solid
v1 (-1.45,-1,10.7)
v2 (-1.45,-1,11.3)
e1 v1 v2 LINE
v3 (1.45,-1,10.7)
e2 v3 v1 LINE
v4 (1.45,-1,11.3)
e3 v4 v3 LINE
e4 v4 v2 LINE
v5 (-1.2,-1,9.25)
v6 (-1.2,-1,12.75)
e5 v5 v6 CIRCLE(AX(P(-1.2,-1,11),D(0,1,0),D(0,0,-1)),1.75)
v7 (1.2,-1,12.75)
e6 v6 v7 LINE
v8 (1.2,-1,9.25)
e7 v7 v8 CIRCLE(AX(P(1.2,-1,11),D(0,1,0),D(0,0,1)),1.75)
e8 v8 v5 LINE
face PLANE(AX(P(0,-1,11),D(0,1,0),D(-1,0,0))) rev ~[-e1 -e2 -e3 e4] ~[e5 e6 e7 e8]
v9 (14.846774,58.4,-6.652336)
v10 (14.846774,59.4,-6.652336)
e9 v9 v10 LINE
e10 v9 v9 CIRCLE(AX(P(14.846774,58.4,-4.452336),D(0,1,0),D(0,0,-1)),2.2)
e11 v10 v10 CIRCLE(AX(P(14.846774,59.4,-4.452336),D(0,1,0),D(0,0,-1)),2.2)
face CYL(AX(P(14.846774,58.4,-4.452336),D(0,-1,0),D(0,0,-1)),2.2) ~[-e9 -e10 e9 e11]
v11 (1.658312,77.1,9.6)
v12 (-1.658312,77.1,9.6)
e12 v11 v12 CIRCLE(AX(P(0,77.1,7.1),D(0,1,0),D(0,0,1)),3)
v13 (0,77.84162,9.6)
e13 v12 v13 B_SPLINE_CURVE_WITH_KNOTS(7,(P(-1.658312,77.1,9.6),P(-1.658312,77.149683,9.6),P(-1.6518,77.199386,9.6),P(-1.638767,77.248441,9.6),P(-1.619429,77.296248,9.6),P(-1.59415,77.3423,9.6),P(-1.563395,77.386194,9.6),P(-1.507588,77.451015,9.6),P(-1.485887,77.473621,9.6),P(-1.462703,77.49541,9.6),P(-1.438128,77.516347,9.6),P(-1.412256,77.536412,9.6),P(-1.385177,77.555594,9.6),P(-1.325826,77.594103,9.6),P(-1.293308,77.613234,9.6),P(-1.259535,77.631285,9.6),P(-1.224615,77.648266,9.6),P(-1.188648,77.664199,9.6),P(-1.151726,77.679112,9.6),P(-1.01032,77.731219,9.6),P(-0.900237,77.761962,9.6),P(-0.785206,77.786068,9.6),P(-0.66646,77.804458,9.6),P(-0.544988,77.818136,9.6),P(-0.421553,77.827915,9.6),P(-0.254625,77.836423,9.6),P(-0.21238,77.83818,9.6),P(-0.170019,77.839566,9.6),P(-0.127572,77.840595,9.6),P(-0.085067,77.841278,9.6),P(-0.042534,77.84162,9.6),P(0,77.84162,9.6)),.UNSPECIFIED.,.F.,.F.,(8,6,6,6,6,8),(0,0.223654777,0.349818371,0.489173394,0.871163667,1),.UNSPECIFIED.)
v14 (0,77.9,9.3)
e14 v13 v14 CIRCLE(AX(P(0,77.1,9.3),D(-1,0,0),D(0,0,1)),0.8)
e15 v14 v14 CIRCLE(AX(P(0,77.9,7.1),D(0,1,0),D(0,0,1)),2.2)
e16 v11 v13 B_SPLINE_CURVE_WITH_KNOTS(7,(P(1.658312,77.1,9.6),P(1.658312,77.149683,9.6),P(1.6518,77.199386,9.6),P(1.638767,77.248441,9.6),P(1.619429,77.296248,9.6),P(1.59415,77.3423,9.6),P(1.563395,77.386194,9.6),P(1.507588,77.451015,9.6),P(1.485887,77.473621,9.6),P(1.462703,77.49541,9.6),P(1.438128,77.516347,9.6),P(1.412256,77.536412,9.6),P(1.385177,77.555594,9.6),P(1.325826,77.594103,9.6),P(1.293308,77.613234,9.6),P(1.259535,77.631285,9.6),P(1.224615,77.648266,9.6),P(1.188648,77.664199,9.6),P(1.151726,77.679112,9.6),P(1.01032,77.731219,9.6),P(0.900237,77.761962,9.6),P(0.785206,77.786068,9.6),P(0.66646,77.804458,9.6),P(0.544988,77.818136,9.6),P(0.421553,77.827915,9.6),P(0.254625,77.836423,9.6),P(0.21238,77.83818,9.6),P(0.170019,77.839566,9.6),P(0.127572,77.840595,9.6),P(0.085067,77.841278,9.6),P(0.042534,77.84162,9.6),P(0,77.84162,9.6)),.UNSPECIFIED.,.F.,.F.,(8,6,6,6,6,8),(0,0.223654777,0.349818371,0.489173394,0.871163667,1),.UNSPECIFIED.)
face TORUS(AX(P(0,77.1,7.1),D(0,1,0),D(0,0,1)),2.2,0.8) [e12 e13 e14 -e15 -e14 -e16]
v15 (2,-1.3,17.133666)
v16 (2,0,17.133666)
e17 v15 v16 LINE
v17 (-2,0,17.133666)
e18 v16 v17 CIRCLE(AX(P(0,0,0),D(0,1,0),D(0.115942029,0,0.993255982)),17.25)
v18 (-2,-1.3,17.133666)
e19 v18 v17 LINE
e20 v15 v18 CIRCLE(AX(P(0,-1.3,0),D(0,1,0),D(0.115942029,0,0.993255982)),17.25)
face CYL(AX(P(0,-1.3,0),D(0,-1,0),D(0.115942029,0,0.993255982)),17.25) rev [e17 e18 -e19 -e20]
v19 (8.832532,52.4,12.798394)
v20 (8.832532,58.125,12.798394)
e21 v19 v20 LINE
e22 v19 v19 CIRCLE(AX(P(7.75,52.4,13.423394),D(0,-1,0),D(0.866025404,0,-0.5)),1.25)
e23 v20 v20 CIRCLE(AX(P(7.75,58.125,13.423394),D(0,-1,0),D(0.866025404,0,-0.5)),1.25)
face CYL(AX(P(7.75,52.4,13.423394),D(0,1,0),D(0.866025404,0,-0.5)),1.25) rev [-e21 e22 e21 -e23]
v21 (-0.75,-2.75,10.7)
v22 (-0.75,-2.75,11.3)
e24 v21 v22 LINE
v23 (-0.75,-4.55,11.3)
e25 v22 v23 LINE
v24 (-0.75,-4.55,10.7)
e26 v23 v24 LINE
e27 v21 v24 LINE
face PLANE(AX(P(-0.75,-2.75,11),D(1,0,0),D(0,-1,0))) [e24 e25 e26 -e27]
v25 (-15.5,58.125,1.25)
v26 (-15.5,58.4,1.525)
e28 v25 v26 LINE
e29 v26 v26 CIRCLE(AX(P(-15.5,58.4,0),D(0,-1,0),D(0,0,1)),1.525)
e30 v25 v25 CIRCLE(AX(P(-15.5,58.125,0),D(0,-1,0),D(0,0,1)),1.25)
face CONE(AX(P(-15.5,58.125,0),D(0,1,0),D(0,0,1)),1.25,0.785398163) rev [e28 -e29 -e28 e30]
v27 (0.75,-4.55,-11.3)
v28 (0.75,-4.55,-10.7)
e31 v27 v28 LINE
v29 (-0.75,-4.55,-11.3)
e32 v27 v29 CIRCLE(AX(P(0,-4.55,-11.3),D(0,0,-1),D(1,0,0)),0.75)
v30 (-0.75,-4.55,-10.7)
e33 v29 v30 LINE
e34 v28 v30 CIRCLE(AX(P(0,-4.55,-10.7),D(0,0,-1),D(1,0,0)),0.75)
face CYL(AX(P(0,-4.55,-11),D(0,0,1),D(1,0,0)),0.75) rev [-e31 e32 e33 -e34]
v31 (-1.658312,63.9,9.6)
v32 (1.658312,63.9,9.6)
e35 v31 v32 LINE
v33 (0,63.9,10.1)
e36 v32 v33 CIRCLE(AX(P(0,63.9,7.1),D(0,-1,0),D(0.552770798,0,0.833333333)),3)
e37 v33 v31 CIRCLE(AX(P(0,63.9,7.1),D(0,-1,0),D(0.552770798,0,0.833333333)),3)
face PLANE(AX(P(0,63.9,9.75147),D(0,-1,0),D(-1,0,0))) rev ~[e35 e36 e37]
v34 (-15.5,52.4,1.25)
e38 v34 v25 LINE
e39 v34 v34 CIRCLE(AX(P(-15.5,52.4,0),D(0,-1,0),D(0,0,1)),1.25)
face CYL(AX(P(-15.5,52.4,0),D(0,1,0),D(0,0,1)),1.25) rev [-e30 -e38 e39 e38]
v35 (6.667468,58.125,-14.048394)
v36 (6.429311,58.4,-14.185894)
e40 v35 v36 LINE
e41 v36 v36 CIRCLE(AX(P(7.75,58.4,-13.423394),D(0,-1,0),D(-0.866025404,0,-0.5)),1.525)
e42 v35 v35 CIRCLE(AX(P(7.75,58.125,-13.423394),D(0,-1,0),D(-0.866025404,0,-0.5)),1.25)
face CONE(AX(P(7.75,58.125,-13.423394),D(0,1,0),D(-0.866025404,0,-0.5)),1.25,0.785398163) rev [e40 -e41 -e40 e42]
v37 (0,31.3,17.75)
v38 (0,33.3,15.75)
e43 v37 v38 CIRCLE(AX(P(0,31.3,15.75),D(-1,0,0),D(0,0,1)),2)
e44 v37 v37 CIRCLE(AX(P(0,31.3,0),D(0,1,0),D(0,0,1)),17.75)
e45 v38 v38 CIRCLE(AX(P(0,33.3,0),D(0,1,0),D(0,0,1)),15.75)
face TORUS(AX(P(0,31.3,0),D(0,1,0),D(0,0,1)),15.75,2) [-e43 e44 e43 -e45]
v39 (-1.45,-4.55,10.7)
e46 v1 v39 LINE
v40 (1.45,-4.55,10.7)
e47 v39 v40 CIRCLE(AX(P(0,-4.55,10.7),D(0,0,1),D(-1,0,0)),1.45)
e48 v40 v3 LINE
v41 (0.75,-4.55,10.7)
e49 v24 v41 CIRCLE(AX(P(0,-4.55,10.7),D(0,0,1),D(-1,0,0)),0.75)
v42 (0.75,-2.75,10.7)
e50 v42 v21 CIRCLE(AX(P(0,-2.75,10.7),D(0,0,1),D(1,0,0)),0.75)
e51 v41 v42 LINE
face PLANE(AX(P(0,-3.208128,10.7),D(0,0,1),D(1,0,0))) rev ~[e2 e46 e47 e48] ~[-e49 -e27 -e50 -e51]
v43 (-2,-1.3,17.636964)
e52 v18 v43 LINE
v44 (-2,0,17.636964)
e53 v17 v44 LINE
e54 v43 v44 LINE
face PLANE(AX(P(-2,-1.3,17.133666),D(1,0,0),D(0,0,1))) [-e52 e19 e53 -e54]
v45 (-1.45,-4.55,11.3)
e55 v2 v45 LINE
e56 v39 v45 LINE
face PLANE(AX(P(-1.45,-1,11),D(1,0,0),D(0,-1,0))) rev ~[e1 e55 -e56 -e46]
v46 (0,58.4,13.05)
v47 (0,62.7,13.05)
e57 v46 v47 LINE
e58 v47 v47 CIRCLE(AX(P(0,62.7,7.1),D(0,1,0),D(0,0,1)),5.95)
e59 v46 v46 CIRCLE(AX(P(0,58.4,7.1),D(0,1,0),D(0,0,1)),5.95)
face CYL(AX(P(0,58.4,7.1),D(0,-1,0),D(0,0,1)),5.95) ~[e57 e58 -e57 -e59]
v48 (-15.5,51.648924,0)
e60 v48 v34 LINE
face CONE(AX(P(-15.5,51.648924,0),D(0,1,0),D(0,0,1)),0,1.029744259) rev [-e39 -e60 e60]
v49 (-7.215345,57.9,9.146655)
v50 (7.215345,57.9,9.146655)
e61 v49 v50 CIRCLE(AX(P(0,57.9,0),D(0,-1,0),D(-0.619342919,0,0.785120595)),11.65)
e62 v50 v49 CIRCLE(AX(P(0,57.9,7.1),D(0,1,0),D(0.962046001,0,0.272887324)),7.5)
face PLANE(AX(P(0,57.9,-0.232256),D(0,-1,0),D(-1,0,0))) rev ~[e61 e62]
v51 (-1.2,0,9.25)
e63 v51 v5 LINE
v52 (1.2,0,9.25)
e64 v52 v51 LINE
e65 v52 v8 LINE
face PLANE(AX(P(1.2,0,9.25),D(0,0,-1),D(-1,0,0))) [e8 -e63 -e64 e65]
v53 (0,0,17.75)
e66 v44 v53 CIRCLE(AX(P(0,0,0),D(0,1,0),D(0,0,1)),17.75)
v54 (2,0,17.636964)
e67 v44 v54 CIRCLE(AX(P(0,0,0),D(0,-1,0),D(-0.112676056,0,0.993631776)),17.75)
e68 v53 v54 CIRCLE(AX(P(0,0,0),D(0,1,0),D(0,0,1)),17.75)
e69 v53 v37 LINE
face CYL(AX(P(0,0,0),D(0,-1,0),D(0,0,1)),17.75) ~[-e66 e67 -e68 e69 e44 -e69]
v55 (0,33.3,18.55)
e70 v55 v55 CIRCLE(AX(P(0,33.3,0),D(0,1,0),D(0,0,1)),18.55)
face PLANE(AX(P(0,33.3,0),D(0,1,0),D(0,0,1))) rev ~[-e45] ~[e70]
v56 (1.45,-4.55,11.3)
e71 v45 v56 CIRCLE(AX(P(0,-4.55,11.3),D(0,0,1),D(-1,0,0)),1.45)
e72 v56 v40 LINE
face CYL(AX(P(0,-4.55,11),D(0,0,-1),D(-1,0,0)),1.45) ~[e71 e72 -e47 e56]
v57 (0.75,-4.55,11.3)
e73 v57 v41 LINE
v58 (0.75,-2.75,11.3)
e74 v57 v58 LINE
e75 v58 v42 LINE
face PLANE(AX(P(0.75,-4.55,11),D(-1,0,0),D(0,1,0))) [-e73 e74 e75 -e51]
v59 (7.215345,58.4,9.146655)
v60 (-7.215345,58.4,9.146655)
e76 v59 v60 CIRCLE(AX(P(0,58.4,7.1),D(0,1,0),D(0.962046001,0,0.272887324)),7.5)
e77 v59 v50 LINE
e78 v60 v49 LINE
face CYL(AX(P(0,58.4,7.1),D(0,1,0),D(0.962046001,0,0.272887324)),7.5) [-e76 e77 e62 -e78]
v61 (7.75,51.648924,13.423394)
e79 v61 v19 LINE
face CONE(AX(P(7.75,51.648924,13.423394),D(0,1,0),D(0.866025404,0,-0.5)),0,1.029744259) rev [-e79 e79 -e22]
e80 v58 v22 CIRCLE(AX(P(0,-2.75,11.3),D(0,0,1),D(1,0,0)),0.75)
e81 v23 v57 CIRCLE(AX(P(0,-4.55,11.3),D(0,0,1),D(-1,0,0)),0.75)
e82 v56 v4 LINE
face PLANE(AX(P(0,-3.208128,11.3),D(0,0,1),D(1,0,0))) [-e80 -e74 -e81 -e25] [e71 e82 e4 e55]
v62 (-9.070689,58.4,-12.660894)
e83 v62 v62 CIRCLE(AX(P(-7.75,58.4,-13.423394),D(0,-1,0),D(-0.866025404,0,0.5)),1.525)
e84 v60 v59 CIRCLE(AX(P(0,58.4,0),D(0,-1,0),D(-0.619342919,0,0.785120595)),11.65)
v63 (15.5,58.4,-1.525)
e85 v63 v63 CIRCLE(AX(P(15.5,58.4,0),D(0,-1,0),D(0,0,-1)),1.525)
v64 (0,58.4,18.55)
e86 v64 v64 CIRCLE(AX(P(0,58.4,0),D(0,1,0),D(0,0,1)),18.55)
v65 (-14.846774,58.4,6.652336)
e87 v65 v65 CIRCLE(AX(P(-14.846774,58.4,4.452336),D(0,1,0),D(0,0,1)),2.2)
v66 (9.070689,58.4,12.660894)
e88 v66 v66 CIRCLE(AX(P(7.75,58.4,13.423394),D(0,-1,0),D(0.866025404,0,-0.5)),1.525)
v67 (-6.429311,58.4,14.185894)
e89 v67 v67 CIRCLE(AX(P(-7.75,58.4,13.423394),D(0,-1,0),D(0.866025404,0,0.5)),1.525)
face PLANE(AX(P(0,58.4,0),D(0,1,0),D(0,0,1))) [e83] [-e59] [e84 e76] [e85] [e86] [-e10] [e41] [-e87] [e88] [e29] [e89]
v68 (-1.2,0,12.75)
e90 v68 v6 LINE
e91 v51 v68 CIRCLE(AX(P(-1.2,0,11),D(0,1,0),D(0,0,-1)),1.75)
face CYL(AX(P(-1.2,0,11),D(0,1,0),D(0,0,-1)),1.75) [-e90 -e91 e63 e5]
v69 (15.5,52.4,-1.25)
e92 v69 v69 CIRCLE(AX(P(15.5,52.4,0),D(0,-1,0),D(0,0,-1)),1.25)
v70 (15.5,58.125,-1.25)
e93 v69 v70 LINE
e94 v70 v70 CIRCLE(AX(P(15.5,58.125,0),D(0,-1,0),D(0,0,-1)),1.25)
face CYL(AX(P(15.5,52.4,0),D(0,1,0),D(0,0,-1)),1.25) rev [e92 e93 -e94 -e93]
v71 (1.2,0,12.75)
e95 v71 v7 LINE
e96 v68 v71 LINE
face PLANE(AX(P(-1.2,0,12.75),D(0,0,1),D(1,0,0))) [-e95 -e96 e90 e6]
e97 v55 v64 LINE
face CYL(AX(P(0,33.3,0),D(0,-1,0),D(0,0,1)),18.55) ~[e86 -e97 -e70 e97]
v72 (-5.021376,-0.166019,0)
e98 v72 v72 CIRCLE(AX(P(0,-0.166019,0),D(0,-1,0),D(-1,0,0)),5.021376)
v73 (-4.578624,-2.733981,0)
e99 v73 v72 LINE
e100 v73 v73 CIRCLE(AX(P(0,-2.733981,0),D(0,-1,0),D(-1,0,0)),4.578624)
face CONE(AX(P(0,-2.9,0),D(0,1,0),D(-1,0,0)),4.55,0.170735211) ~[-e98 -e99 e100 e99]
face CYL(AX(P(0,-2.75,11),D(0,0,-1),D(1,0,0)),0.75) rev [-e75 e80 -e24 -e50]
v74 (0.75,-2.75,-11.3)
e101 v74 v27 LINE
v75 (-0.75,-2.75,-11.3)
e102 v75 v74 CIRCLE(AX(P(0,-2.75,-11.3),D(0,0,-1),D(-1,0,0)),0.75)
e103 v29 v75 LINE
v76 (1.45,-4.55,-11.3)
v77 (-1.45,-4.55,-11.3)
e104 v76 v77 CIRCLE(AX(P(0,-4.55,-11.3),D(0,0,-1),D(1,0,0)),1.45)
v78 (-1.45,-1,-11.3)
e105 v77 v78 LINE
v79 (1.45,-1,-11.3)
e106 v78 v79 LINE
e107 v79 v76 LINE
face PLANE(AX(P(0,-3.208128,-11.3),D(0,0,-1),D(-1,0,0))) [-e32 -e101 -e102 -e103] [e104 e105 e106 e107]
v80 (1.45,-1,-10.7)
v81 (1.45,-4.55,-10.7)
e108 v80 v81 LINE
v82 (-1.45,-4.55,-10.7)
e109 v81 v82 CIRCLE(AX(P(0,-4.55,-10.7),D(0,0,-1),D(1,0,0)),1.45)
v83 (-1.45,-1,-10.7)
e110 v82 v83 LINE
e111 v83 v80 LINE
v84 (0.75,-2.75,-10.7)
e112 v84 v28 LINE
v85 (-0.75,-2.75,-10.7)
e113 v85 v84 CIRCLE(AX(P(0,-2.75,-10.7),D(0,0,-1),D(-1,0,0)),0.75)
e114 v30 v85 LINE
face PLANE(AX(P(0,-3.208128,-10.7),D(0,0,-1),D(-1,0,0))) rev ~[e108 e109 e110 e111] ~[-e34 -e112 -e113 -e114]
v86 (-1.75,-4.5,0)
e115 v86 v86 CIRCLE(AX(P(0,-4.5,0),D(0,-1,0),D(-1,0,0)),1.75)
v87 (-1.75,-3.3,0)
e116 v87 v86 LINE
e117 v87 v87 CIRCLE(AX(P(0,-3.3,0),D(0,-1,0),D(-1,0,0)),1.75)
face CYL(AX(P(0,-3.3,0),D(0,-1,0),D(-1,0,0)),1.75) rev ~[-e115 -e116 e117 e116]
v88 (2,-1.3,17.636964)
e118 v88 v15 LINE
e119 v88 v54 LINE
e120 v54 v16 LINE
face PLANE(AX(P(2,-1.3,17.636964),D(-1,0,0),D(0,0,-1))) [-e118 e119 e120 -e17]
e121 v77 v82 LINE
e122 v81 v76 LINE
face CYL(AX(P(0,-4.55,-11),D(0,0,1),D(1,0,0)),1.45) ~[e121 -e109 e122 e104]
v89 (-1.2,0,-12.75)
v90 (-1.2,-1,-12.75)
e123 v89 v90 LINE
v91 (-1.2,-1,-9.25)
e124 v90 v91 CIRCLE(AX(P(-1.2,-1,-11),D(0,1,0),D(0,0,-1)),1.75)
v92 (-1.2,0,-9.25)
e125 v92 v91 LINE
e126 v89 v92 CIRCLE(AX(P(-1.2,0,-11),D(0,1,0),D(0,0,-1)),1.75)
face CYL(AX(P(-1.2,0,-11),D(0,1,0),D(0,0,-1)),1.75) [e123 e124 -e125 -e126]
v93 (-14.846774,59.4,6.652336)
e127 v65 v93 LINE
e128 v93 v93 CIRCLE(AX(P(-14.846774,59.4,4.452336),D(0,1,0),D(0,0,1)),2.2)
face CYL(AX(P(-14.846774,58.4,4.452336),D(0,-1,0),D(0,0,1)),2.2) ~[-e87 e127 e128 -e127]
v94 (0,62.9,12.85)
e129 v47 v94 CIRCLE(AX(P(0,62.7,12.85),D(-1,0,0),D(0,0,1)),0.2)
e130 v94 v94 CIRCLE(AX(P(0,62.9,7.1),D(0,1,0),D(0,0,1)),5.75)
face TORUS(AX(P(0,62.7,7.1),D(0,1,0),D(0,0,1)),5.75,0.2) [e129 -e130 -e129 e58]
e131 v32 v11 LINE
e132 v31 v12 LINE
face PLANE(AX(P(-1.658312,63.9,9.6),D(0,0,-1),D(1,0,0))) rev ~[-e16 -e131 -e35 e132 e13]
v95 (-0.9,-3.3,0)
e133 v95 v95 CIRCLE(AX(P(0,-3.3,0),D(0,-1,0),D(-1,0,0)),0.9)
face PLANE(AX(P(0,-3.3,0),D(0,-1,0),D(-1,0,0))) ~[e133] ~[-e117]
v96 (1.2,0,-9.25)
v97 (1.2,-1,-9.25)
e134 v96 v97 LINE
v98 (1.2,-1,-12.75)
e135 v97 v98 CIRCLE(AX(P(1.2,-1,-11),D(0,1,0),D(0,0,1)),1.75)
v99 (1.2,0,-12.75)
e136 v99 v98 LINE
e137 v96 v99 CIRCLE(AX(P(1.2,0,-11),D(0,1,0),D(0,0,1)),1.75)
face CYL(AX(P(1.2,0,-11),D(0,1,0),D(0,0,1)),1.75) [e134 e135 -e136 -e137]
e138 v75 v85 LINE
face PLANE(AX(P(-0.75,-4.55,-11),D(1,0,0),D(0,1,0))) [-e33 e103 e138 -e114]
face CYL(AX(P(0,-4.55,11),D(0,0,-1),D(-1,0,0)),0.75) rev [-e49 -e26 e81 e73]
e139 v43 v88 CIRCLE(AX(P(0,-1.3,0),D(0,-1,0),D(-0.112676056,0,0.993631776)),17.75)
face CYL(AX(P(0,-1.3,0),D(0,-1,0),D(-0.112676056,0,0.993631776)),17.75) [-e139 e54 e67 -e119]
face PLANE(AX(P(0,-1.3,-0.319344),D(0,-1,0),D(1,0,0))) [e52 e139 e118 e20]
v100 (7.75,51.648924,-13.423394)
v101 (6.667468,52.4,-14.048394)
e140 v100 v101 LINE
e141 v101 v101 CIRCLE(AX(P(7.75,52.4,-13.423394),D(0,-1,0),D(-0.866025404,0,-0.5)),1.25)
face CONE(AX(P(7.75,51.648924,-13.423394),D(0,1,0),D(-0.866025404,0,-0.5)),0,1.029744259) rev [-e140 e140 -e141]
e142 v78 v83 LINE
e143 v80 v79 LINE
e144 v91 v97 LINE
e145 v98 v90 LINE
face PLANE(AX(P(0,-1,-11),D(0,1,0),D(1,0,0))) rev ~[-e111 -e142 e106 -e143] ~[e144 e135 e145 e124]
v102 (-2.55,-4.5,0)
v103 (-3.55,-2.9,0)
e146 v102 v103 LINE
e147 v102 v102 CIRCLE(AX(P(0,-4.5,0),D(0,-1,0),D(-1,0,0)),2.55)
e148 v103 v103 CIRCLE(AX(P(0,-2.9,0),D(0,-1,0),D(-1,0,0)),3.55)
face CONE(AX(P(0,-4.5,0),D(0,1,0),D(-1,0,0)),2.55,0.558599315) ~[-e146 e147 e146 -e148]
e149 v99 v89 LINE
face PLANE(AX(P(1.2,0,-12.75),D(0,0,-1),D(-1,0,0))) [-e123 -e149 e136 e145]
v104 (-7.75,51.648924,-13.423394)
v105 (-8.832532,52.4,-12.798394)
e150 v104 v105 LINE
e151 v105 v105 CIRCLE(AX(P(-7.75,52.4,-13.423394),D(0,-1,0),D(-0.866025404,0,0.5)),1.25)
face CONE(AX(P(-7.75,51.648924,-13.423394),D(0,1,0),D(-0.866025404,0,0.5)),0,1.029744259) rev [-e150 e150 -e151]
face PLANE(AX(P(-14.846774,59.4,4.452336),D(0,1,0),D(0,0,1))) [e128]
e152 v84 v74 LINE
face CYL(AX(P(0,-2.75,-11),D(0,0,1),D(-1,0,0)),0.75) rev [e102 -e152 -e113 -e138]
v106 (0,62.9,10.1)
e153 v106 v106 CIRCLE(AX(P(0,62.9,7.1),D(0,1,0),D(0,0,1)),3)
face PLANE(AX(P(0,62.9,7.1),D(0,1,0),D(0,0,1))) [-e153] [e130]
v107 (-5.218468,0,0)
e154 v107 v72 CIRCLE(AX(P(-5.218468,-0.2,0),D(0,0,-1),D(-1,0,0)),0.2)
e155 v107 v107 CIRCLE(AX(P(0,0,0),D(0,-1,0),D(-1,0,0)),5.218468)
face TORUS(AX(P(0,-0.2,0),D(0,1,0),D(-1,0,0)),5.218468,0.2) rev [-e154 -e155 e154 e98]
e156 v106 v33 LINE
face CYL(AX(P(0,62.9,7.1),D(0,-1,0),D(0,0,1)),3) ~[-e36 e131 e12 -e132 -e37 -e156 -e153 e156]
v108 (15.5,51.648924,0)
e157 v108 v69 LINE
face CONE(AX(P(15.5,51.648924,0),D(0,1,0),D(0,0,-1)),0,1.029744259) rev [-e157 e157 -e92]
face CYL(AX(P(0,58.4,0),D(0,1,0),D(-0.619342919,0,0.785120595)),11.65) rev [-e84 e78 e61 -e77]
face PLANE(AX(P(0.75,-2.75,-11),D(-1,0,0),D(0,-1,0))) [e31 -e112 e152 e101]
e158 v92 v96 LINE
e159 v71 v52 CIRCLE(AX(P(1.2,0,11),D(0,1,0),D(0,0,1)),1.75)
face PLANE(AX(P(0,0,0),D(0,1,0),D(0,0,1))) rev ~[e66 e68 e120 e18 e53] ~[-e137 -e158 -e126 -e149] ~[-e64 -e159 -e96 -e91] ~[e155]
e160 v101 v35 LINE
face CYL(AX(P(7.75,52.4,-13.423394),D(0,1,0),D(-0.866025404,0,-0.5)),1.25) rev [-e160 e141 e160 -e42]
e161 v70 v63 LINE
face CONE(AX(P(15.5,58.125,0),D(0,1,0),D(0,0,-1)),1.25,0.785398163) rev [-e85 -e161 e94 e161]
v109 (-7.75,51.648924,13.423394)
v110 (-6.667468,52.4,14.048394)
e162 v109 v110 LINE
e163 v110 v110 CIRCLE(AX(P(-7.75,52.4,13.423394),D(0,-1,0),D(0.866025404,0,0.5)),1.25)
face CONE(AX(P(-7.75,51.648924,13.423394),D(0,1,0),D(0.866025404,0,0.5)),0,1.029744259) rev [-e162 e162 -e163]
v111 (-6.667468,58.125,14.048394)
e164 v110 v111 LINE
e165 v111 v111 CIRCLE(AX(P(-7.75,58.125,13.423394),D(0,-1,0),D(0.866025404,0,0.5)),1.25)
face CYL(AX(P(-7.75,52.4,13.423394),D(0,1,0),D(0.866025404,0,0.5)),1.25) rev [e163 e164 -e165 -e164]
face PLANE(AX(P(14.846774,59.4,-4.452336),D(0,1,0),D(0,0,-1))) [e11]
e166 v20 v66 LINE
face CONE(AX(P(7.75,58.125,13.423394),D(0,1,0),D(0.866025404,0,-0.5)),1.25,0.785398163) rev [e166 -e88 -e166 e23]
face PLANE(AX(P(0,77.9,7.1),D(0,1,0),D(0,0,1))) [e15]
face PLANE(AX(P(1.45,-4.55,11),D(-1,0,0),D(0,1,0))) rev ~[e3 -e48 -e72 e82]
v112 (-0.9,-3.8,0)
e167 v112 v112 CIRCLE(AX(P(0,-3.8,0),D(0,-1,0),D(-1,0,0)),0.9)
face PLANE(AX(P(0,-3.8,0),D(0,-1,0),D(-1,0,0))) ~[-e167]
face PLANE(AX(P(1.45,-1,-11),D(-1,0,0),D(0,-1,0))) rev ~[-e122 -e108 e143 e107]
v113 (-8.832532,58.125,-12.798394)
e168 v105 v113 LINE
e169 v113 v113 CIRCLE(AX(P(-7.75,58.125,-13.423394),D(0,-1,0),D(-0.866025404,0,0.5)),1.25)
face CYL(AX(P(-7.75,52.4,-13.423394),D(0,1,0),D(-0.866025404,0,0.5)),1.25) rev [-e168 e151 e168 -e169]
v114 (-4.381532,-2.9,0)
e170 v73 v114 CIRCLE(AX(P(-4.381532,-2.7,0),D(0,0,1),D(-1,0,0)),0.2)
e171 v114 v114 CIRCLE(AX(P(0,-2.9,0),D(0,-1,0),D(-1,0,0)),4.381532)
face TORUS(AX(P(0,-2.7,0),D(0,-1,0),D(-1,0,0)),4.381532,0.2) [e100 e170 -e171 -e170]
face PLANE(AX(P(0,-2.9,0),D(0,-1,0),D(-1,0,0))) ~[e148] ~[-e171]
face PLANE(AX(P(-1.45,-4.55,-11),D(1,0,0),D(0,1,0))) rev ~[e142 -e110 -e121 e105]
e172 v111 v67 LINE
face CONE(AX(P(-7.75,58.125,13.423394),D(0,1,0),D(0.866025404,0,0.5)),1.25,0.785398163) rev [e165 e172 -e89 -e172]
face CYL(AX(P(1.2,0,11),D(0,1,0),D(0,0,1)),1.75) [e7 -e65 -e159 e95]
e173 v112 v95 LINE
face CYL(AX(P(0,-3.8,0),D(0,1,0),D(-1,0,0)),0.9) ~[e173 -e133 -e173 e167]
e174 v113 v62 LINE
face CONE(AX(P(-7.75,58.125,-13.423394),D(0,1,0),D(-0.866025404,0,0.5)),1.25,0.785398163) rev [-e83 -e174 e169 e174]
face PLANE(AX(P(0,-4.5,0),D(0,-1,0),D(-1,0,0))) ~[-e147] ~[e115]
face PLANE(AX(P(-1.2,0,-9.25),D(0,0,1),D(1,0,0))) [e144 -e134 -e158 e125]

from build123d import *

# Parameters (mm, degrees)
SKETCH1_R           = 17.75
BOSS_EXTRUDE1_DEPTH = 33.3
FILLET1_R           = 2
SKETCH2_R           = 18.55
BOSS_EXTRUDE2_DEPTH = 25.1
SKETCH3_R           = 5.95
BOSS_EXTRUDE3_DEPTH = 4.5
FILLET2_R           = 0.2
SKETCH4_R           = 3
BOSS_EXTRUDE4_DEPTH = 15
FILLET3_R           = 0.8
CUT_EXTRUDE1_START  = -14
CUT_EXTRUDE1_DEPTH  = 14
CUT_EXTRUDE2_DEPTH  = 0.5
CIRPATTERN1_COUNT   = 6
SKETCH11_R          = 2.2
BOSS_EXTRUDE5_DEPTH = 1
CIRPATTERN2_COUNT   = 2
BOSS_EXTRUDE6_START = 1.3
BOSS_EXTRUDE6_DEPTH = 1.3
FILLET4_R           = 0.2
BOSS_EXTRUDE7_DEPTH = 1
BOSS_EXTRUDE8_DEPTH = 0.3
CIRPATTERN3_COUNT   = 2


with BuildPart() as part:
    # Sketch1 → Boss-Extrude1 (new body)
    with BuildSketch(Plane(origin=(0, 0, 0), x_dir=(1, 0, 0), z_dir=(0, 1, 0))):
        with Locations(Location((0, 0, 0), (0, 0, 270))):
            Circle(SKETCH1_R)
    extrude(amount=BOSS_EXTRUDE1_DEPTH)

    # Fillet1
    fillet1_edges = [part.edges().sort_by_distance(p)[0] for p in [
        (0, 33.3, -17.75),
    ]]
    fillet(fillet1_edges, radius=FILLET1_R)

    # Sketch2 → Boss-Extrude2 (add)
    with BuildSketch(Plane(origin=(0, 33.3, 0), x_dir=(1, 0, 0), z_dir=(0, 1, 0))):
        with Locations(Location((0, 0, 0), (0, 0, 270))):
            Circle(SKETCH2_R)
    extrude(amount=BOSS_EXTRUDE2_DEPTH)

    # Sketch3 → Boss-Extrude3 (add)
    with BuildSketch(Plane(origin=(0, 58.4, 0), x_dir=(1, 0, 0), z_dir=(0, 1, 0))):
        with Locations(Location((0, -7.1, 0), (0, 0, 270))):
            Circle(SKETCH3_R)
    extrude(amount=BOSS_EXTRUDE3_DEPTH)

    # Fillet2
    fillet2_edges = [part.edges().sort_by_distance(p)[0] for p in [
        (0, 62.9, 1.15),
    ]]
    fillet(fillet2_edges, radius=FILLET2_R)

    # Sketch4 → Boss-Extrude4 (add)
    with BuildSketch(Plane(origin=(0, 62.9, 0), x_dir=(1, 0, 0), z_dir=(0, 1, 0))):
        with Locations(Location((0, -7.1, 0), (0, 0, 270))):
            Circle(SKETCH4_R)
    extrude(amount=BOSS_EXTRUDE4_DEPTH)

    # Fillet3
    fillet3_edges = [part.edges().sort_by_distance(p)[0] for p in [
        (0, 77.9, 4.1),
    ]]
    fillet(fillet3_edges, radius=FILLET3_R)

    # Sketch6 → Cut-Extrude1 (cut)
    with BuildSketch(Plane(origin=(0, 77.9, 0), x_dir=(1, 0, 0), z_dir=(0, 1, 0)).offset(CUT_EXTRUDE1_START)):
        with BuildLine():
            Line((-1.658312395, -9.6), (1.658312395, -9.6))
            ThreePointArc((1.658312395, -9.6), (0, -10.1), (-1.658312395, -9.6))
        make_face()
    extrude(amount=CUT_EXTRUDE1_DEPTH, mode=Mode.SUBTRACT)

    # Sketch7 → Cut-Extrude2 (cut)
    with BuildSketch(Plane(origin=(0, 58.4, 0), x_dir=(1, 0, 0), z_dir=(0, 1, 0))):
        with BuildLine():
            ThreePointArc((7.215345009, -9.14665493), (0, 0.4), (-7.215345009, -9.14665493))
            ThreePointArc((-7.215345009, -9.14665493), (0, 11.65), (7.215345009, -9.14665493))
        make_face()
    extrude(amount=-CUT_EXTRUDE2_DEPTH, mode=Mode.SUBTRACT)

    # Sketch10 → M3 Tapped Hole1 (revolve, cut)
    with BuildSketch(Plane(origin=(-15.5, 58.4, 0), x_dir=(0, 0, 1), z_dir=(1, 0, 0))):
        Polygon((0, 0), (0, 6.751075774), (1.25, 6), (1.25, 0.275), (1.525, 0), align=None)
    m3_tapped_hole1 = revolve(axis=Axis((-15.5, 64.75, 0), (0, -1, 0)), mode=Mode.SUBTRACT)

    # CirPattern1: M3 Tapped Hole1 ×6 about axis
    cirpattern1_axis = Axis((0, 0, 0), (0, 1, 0))
    for i in range(1, CIRPATTERN1_COUNT):
        add(m3_tapped_hole1.rotate(cirpattern1_axis, i * 360 / CIRPATTERN1_COUNT), mode=Mode.SUBTRACT)

    # Sketch11 → Boss-Extrude5 (add)
    with BuildSketch(Plane(origin=(0, 58.4, 0), x_dir=(1, 0, 0), z_dir=(0, 1, 0))):
        with Locations(Location((-14.846774194, -4.452336021, 0), (0, 0, 270))):
            Circle(SKETCH11_R)
    boss_extrude5 = extrude(amount=BOSS_EXTRUDE5_DEPTH)

    # CirPattern2: Boss-Extrude5 ×2 about axis
    cirpattern2_axis = Axis((0, 0, 0), (0, 1, 0))
    for i in range(1, CIRPATTERN2_COUNT):
        add(boss_extrude5.rotate(cirpattern2_axis, i * 360 / CIRPATTERN2_COUNT))

    # Sketch12 → Boss-Extrude6 (add)
    with BuildSketch(Plane.XZ.offset(BOSS_EXTRUDE6_START)):
        with BuildLine():
            Line((-2, 17.133665691), (-2, 17.636964024))
            ThreePointArc((-2, 17.636964024), (0, -17.75), (2, 17.636964024))
            Line((2, 17.636964024), (2, 17.133665691))
            ThreePointArc((2, 17.133665691), (0, -17.25), (-2, 17.133665691))
        make_face()
    extrude(amount=-BOSS_EXTRUDE6_DEPTH)

    # Sketch14 → Revolve1 (revolve)
    with BuildSketch(Plane.XY, mode=Mode.PRIVATE) as revolve1_sk:
        Polygon((0, -3.8), (0.9, -3.8), (0.9, -3.3), (1.75, -3.3), (1.75, -4.5), (2.55, -4.5), (3.55, -2.9), (4.55, -2.9), (5.05, 0), (0, 0), align=None)
    revolve(revolve1_sk.sketch.rotate(Axis((0, 0, 0), (0, -1, 0)), 180), axis=Axis((0, 0, 0), (0, -1, 0)))

    # Fillet4
    fillet4_edges = [part.edges().sort_by_distance(p)[0] for p in [
        (5.05, 0, 0),
        (4.55, -2.9, 0),
    ]]
    fillet(fillet4_edges, radius=FILLET4_R)

    # Sketch15 → Boss-Extrude7 (add)
    with BuildSketch(Plane.XZ):
        with BuildLine():
            Line((-1.2, 12.75), (1.2, 12.75))
            ThreePointArc((1.2, 12.75), (2.95, 11), (1.2, 9.25))
            Line((1.2, 9.25), (-1.2, 9.25))
            ThreePointArc((-1.2, 9.25), (-2.95, 11), (-1.2, 12.75))
        make_face()
    boss_extrude7 = extrude(amount=BOSS_EXTRUDE7_DEPTH)

    # Sketch16 → Boss-Extrude8 (add, symmetric)
    with BuildSketch(Plane(origin=(0, 0, 11), x_dir=(-1, 0, 0), z_dir=(0, 0, -1))):
        with BuildLine():
            Line((-1.45, -1), (1.45, -1))
            Line((1.45, -1), (1.45, -4.55))
            ThreePointArc((1.45, -4.55), (0, -6), (-1.45, -4.55))
            Line((-1.45, -4.55), (-1.45, -1))
        make_face()
        with BuildLine():
            Line((0.75, -2.75), (0.75, -4.55))
            ThreePointArc((0.75, -4.55), (0, -5.3), (-0.75, -4.55))
            Line((-0.75, -4.55), (-0.75, -2.75))
            ThreePointArc((-0.75, -2.75), (0, -2), (0.75, -2.75))
        make_face(mode=Mode.SUBTRACT)
    boss_extrude8 = extrude(amount=BOSS_EXTRUDE8_DEPTH, both=True)

    # CirPattern3: Boss-Extrude7, Boss-Extrude8 ×2 about axis
    cirpattern3_axis = Axis((0, 0, 0), (0, 1, 0))
    add([boss_extrude7.rotate(cirpattern3_axis, i * 360 / CIRPATTERN3_COUNT) for i in range(1, CIRPATTERN3_COUNT)])
    add([boss_extrude8.rotate(cirpattern3_axis, i * 360 / CIRPATTERN3_COUNT) for i in range(1, CIRPATTERN3_COUNT)])


solid = part.part
